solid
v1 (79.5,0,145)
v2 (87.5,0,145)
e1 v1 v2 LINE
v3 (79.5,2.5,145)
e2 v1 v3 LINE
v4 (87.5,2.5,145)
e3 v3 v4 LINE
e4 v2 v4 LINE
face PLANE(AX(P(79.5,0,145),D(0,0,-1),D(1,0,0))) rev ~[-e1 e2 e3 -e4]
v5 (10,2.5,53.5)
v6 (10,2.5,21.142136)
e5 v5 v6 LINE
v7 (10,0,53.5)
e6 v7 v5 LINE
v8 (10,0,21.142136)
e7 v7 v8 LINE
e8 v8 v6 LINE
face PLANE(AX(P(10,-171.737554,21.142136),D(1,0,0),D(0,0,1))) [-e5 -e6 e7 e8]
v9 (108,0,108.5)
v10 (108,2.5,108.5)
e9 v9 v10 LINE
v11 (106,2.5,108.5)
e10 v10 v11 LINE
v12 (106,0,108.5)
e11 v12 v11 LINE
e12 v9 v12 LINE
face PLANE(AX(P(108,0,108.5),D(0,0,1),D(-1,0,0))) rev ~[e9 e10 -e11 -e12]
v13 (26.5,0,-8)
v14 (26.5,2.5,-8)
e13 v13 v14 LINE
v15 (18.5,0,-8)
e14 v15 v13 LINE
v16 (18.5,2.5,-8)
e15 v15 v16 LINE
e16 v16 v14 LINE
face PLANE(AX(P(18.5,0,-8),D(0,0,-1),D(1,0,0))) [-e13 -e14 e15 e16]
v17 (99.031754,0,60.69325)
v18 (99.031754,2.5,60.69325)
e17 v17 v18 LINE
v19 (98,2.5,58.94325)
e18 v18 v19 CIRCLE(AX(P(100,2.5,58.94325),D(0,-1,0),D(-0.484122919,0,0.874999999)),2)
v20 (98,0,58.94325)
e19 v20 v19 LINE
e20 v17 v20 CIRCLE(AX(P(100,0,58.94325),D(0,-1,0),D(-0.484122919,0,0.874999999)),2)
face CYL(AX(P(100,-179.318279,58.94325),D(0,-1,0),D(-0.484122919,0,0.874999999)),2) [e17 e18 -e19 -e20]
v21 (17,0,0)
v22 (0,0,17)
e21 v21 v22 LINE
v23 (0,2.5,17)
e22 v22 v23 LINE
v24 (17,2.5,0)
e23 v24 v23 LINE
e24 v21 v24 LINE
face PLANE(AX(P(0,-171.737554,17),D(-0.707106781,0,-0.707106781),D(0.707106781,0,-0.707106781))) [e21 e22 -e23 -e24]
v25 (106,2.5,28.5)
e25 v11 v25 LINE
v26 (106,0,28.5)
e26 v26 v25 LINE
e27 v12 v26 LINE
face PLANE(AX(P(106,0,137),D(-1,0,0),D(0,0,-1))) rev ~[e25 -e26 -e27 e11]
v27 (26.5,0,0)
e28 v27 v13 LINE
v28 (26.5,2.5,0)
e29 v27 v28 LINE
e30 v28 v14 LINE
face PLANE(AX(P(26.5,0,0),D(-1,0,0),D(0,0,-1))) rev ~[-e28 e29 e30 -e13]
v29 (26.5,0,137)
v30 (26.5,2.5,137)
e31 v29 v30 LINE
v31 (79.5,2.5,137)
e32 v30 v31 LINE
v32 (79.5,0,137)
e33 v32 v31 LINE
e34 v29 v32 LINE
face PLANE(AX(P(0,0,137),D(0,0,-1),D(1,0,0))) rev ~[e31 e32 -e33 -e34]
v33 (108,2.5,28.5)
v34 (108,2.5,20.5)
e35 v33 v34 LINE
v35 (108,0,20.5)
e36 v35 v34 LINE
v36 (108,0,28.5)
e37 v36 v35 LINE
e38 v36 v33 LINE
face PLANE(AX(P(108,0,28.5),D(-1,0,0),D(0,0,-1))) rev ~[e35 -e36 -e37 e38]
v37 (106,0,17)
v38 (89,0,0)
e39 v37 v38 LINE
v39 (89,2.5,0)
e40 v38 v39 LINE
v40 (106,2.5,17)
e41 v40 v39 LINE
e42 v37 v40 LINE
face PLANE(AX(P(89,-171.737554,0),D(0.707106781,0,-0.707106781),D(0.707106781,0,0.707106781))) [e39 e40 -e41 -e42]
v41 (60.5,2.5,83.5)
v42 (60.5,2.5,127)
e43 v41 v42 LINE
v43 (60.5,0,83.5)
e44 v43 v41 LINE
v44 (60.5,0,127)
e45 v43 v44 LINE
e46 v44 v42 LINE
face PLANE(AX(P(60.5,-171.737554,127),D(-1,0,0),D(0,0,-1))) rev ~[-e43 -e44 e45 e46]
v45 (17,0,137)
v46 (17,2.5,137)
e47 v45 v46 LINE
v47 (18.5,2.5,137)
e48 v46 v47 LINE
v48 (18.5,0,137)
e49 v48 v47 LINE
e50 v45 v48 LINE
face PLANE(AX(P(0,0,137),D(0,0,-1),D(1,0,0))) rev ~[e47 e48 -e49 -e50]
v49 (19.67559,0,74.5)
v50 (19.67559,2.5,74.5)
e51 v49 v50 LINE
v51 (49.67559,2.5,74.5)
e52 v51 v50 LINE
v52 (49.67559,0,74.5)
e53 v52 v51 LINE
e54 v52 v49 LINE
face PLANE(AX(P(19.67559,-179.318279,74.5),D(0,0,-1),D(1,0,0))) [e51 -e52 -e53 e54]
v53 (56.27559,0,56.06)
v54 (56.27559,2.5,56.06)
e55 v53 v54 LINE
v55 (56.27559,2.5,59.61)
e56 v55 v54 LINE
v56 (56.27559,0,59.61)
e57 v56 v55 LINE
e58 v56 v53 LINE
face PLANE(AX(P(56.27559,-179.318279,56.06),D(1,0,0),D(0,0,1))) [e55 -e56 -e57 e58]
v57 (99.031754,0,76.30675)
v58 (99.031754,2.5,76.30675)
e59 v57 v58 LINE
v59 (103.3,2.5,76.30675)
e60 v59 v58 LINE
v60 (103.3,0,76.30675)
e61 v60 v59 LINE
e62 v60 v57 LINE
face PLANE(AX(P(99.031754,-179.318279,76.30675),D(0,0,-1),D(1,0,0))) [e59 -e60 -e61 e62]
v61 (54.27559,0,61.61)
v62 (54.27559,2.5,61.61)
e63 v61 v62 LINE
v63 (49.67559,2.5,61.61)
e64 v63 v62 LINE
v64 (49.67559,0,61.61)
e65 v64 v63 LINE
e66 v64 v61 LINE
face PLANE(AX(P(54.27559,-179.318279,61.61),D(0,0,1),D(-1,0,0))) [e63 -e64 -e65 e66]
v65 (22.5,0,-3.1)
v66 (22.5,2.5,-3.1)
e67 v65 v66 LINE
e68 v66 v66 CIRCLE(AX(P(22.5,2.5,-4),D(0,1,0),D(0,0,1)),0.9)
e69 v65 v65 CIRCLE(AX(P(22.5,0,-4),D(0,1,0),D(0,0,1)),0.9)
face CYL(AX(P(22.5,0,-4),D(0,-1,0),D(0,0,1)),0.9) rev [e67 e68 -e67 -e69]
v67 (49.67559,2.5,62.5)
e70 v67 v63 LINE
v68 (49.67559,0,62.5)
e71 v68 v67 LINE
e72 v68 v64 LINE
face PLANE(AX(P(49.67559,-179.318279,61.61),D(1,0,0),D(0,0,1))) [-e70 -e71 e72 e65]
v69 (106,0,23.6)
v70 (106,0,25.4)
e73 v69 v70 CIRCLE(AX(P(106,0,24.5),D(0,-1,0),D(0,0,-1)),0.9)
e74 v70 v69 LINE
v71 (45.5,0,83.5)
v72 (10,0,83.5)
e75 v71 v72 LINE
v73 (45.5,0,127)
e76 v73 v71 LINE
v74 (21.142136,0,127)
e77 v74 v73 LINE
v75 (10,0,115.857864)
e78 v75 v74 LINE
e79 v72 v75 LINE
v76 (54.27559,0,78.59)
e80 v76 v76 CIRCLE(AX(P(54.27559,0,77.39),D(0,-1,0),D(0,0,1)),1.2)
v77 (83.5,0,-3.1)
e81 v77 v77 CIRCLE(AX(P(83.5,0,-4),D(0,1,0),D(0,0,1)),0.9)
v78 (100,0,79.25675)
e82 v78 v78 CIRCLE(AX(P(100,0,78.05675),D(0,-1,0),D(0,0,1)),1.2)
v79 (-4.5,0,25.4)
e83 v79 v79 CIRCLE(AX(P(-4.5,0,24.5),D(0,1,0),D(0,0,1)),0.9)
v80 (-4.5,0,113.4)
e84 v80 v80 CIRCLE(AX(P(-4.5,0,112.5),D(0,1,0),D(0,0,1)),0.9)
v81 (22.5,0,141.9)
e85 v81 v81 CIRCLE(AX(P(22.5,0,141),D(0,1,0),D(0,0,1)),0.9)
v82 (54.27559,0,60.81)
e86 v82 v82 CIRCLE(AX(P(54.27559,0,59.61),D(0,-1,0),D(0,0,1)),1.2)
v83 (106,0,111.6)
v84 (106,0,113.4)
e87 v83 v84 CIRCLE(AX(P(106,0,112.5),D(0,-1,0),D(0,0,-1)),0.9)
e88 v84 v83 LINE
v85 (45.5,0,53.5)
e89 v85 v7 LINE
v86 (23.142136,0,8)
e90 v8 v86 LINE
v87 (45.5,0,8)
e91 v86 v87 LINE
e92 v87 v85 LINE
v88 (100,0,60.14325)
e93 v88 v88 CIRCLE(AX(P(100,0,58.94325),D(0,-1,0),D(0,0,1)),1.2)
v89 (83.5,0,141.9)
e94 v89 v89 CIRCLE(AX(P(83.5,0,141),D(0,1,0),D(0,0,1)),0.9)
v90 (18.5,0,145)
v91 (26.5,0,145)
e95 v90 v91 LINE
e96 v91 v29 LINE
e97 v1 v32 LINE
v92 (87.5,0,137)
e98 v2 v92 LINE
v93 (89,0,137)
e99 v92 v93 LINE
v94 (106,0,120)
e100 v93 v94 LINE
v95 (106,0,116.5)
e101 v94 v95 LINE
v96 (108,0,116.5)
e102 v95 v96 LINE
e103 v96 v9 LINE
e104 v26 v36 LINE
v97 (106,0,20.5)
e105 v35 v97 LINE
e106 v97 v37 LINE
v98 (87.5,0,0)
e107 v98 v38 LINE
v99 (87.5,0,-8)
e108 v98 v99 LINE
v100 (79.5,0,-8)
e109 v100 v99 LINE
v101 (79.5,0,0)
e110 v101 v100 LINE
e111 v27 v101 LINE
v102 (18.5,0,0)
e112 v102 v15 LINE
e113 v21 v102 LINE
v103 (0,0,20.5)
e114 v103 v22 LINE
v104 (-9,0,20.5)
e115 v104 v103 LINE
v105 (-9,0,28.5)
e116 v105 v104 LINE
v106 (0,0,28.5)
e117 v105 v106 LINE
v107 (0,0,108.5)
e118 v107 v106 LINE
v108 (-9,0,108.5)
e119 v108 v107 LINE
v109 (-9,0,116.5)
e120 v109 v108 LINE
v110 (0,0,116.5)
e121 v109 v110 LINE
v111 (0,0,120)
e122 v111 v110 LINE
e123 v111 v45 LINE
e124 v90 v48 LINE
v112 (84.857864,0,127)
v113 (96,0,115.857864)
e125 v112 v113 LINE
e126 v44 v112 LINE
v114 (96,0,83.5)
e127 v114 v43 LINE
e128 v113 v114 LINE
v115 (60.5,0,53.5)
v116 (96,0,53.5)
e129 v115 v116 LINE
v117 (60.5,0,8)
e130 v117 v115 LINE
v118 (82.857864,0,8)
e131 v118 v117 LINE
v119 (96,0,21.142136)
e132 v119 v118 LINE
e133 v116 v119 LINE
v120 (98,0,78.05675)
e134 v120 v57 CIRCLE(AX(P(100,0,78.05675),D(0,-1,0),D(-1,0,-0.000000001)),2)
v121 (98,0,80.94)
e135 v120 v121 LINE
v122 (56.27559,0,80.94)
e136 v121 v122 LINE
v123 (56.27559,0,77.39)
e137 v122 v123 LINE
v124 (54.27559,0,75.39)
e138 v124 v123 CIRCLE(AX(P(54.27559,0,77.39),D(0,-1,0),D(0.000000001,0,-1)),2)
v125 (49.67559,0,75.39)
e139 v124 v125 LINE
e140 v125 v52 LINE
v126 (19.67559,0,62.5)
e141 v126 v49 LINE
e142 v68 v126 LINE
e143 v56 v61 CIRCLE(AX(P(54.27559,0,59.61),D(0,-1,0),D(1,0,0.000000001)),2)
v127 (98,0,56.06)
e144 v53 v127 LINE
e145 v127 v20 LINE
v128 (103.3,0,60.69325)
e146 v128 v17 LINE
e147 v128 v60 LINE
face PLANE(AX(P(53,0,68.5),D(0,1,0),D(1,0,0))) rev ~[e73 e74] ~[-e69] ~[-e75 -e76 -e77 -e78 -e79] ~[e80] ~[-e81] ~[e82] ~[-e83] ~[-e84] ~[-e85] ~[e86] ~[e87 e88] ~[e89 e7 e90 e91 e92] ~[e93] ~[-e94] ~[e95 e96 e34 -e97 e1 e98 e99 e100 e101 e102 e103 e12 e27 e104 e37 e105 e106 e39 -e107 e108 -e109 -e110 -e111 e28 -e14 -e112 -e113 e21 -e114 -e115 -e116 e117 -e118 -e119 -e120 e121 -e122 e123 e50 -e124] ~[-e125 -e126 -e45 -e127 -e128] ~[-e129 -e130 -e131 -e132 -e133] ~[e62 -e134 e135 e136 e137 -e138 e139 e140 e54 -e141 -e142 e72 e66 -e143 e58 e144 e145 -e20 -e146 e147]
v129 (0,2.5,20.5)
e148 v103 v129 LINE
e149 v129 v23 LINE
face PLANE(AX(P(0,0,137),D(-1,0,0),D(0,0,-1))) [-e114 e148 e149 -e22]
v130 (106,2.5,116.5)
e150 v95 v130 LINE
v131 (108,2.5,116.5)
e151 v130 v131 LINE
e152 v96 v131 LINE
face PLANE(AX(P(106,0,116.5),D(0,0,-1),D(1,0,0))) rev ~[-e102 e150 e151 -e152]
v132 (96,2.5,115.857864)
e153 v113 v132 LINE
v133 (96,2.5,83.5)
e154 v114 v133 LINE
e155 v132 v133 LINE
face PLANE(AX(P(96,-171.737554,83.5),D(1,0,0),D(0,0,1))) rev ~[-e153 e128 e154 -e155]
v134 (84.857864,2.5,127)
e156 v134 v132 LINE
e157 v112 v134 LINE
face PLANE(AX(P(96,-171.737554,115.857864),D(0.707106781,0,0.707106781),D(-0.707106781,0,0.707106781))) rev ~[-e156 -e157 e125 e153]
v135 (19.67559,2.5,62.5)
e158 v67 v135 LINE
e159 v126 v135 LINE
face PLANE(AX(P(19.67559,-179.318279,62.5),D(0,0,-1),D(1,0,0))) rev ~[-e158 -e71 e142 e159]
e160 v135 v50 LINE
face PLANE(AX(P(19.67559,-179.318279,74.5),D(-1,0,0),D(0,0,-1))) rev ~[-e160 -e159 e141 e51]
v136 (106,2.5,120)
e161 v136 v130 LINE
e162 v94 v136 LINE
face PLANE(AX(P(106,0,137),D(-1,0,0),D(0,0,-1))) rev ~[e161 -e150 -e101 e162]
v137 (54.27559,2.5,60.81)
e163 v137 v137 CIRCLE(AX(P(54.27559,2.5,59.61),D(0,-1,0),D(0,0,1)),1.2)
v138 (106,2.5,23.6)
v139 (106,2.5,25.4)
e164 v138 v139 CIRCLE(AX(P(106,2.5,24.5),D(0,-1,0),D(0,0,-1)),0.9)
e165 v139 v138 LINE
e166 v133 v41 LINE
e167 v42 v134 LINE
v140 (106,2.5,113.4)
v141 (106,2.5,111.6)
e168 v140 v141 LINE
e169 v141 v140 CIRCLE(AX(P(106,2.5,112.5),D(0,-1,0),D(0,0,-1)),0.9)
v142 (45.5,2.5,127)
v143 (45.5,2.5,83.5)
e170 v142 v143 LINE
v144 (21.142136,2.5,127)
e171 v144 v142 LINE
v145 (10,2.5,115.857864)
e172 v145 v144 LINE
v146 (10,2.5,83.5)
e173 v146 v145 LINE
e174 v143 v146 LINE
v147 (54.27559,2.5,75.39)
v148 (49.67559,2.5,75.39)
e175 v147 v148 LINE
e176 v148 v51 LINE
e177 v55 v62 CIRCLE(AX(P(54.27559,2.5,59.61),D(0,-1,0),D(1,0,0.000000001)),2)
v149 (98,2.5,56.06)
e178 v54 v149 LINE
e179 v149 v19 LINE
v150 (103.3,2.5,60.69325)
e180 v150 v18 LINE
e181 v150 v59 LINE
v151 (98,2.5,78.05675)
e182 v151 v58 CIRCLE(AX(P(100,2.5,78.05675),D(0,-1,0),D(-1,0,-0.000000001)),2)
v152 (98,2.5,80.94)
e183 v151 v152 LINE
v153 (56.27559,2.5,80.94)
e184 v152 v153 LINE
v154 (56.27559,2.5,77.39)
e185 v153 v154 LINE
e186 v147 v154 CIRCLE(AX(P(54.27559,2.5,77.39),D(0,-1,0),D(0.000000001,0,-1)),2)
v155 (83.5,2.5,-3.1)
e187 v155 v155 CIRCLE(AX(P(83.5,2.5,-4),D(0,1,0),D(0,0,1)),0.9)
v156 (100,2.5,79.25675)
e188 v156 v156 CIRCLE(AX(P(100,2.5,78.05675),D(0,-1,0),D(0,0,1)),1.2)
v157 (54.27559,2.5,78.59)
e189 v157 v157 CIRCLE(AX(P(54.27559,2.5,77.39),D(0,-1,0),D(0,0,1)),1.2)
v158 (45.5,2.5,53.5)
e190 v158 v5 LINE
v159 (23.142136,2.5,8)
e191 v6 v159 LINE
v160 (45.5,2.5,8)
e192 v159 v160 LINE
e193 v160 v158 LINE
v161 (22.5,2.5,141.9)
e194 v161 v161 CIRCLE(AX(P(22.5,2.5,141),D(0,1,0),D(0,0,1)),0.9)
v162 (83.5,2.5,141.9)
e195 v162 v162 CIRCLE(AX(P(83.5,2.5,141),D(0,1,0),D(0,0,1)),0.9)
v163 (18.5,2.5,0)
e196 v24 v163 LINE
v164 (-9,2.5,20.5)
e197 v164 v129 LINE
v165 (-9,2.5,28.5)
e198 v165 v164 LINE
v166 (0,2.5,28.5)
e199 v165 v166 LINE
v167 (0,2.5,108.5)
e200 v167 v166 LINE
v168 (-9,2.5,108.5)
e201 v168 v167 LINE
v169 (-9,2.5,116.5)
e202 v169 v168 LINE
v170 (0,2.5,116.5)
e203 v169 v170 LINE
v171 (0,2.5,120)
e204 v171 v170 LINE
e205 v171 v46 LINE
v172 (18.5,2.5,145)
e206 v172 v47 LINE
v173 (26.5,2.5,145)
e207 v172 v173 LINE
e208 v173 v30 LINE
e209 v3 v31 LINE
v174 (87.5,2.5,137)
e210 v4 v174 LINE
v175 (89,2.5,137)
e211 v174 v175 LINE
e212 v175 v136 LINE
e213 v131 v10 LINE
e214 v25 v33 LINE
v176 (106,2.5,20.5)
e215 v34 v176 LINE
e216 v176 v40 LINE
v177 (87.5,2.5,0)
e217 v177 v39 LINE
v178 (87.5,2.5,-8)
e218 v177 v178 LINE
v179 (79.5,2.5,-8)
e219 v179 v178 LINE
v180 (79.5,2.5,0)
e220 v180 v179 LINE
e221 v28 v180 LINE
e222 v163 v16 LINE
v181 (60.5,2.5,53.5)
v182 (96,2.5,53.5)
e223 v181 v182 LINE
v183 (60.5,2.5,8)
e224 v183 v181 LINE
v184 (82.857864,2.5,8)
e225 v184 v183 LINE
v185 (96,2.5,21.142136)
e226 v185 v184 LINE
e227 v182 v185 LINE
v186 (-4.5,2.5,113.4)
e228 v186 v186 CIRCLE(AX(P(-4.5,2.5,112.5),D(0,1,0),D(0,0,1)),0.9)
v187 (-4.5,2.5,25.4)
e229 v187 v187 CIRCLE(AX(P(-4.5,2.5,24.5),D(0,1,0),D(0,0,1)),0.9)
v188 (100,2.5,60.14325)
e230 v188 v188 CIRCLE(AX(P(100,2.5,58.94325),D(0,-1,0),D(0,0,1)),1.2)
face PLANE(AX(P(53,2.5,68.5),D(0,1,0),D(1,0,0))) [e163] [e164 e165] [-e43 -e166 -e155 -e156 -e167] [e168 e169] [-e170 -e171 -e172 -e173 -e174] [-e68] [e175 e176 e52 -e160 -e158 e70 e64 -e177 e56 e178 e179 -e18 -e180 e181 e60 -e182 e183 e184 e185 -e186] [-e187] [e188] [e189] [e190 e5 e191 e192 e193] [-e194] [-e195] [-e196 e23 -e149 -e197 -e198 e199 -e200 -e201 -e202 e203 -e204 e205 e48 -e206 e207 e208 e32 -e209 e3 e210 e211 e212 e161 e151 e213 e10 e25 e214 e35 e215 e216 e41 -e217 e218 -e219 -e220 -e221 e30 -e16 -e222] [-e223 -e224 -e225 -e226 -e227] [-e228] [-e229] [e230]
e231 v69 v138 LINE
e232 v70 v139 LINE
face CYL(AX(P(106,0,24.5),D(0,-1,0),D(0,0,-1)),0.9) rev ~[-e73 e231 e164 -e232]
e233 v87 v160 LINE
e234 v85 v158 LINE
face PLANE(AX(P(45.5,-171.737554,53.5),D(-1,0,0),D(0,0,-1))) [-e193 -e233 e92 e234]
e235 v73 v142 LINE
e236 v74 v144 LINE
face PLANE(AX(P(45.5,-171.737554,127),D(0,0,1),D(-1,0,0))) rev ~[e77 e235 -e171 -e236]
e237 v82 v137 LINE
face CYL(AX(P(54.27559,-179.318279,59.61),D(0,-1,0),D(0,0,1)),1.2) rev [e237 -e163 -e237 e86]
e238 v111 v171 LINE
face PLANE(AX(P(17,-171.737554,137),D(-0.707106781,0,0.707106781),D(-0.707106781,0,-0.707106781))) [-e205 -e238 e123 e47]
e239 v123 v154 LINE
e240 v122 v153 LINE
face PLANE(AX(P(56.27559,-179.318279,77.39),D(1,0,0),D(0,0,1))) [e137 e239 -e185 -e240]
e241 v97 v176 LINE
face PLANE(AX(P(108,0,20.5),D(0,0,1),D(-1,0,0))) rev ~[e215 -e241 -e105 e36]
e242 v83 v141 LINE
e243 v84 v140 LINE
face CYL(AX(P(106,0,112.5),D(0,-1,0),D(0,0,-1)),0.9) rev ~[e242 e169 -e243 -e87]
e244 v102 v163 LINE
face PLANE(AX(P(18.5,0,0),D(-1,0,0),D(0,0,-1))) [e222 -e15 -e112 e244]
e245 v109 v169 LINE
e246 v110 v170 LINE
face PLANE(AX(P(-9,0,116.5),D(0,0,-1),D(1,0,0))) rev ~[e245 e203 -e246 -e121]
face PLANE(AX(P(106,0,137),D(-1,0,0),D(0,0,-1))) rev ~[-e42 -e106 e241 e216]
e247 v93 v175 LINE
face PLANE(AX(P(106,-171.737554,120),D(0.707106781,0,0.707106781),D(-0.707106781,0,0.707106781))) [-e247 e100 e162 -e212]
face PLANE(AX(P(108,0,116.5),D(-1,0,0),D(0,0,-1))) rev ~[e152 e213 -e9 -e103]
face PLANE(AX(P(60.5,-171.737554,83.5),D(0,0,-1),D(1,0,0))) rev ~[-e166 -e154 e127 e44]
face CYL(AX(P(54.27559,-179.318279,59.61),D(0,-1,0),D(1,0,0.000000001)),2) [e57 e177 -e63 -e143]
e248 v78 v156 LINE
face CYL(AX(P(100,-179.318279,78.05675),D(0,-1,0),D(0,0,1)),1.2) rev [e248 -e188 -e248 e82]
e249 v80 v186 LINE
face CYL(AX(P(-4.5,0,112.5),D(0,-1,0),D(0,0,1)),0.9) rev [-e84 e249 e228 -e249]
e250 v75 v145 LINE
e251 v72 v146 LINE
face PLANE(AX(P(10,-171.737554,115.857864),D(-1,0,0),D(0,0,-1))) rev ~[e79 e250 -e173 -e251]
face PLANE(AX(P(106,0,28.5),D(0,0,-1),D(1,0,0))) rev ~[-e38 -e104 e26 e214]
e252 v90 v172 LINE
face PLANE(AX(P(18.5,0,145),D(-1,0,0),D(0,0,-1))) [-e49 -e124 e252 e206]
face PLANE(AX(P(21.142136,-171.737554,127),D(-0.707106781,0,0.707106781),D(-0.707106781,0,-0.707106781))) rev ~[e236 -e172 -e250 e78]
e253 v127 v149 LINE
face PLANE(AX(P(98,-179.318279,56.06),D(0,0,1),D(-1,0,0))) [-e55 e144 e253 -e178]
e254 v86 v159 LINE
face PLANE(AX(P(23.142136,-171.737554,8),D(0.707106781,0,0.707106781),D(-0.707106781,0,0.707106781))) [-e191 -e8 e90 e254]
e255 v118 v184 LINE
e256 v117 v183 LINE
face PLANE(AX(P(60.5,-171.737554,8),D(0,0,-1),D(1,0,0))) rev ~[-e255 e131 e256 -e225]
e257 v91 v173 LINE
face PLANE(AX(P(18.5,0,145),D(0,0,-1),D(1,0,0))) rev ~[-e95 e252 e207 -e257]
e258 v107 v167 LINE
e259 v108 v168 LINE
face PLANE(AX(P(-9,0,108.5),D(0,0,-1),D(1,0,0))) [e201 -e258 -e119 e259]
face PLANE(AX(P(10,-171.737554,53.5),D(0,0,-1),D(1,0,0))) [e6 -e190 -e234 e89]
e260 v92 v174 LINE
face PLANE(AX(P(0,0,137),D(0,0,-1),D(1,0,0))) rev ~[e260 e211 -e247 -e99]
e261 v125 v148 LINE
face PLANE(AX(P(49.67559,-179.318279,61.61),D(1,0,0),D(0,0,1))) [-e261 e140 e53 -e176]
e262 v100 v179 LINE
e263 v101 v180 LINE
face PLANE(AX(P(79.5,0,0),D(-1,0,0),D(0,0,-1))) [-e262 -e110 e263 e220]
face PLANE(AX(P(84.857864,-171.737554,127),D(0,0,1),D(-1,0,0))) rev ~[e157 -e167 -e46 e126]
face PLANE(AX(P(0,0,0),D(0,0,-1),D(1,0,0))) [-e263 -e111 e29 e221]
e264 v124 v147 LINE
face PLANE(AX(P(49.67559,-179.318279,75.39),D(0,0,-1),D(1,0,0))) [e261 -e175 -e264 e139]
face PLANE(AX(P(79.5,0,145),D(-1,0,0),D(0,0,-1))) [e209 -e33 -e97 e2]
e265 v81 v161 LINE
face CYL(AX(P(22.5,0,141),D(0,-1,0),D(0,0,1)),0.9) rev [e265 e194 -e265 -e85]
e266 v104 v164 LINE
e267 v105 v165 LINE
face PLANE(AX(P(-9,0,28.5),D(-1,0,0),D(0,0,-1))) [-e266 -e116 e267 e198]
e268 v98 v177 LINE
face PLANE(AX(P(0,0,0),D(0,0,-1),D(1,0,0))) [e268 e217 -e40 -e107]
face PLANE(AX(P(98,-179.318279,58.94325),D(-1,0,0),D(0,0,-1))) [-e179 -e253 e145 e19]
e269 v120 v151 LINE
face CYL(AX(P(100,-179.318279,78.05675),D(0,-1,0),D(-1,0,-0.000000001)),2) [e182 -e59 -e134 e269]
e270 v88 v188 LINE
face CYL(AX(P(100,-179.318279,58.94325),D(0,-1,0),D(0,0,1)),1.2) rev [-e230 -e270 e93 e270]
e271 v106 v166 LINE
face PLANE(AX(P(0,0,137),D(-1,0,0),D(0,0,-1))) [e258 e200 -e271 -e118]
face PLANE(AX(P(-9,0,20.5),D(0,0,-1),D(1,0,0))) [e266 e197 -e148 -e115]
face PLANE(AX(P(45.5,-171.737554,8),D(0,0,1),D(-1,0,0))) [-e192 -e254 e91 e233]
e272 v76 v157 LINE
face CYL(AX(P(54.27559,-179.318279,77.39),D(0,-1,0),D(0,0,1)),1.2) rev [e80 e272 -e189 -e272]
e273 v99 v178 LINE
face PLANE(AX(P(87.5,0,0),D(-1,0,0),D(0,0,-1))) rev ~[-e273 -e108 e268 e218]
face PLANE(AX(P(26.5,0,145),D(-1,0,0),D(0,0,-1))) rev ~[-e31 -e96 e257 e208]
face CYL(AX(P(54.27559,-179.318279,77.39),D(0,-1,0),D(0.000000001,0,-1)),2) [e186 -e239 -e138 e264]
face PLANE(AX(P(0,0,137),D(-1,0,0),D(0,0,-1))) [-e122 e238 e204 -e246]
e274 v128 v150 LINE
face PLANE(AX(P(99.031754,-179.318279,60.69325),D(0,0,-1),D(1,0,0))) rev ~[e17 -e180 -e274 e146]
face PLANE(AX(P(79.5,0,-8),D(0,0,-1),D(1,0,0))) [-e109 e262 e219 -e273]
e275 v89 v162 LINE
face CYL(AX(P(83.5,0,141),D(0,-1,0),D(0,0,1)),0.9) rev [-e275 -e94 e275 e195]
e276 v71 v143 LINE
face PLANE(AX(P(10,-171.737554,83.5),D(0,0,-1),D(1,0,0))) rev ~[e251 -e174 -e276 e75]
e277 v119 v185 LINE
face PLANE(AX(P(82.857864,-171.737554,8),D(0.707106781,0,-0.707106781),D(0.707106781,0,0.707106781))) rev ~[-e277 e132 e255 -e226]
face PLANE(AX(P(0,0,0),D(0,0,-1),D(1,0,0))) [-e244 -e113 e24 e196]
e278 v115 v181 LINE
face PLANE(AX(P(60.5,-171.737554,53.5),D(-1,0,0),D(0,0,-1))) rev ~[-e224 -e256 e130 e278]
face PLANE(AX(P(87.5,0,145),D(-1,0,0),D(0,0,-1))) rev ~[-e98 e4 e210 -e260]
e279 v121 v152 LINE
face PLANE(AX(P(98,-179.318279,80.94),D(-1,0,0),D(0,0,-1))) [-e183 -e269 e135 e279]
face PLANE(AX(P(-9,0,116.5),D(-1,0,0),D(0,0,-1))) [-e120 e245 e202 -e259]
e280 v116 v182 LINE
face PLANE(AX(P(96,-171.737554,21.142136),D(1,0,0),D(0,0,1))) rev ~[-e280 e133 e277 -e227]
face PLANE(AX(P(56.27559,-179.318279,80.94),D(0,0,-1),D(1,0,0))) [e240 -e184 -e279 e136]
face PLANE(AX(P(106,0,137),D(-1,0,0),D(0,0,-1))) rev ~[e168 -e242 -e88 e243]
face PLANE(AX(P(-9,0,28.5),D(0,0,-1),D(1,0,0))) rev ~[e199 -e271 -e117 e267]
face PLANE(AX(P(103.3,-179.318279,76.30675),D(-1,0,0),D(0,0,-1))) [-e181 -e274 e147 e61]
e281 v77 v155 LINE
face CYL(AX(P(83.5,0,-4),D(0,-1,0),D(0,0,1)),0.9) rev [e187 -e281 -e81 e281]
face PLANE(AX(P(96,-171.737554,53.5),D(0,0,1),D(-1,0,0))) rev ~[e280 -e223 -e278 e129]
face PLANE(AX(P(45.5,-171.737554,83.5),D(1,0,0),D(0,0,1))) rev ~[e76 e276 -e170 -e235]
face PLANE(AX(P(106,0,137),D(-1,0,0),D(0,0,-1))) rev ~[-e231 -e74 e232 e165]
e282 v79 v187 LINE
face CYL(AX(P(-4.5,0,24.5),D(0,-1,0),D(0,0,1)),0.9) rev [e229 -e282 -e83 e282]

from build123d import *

# Parameters (mm, degrees)
SKETCH1_W               = 106
SKETCH1_H               = 137
BOSS_EXTRUDE1_DEPTH     = 2.5
CUT_EXTRUDE1_DEPTH      = 174.237553665
CUT_EXTRUDE1_DEPTH_BACK = 174.237553665
SKETCH5_W               = 8
SKETCH5_H               = 8
SKETCH5_R               = 0.9
SKETCH5_W_2             = 9
BOSS_EXTRUDE4_DEPTH     = 2.5
CUT_EXTRUDE4_DEPTH      = 181.818278943
CUT_EXTRUDE4_DEPTH_BACK = 181.818278943
SKETCH3_R               = 1.2
SKETCH3_W               = 6.263237977
SKETCH3_H               = 0.25
SKETCH3_W_2             = 4.268245837
CUT_EXTRUDE5_DEPTH      = 181.818278943
CUT_EXTRUDE5_DEPTH_BACK = 181.818278943
SKETCH7_W               = 30
SKETCH7_H               = 12


with BuildPart() as part:
    # Sketch1 → Boss-Extrude1 (new body)
    with BuildSketch(Plane(origin=(0, 0, 0), x_dir=(1, 0, 0), z_dir=(0, 1, 0))):
        with Locations((53, -68.5)):
            Rectangle(SKETCH1_W, SKETCH1_H)
    extrude(amount=BOSS_EXTRUDE1_DEPTH)

    # Sketch2 → Cut-Extrude1 (cut, two sides: drawn at the far end of the back side and taken through both)
    with BuildSketch(Plane(origin=(0, 2.5, 0), x_dir=(1, 0, 0), z_dir=(0, 1, 0)).offset(-CUT_EXTRUDE1_DEPTH_BACK)):
        Polygon((60.5, -83.5), (96, -83.5), (96, -115.857864376), (84.857864376, -127), (60.5, -127), align=None)
        Polygon((106, -120), (89, -137), (106, -137), align=None)
        Polygon((17, -137), (0, -120), (0, -137), align=None)
        Polygon((45.5, -127), (21.142135624, -127), (10, -115.857864376), (10, -83.5), (45.5, -83.5), align=None)
        Polygon((10, -53.5), (45.5, -53.5), (45.5, -8), (23.142135624, -8), (10, -21.142135624), align=None)
        Polygon((60.5, -53.5), (60.5, -8), (82.857864376, -8), (96, -21.142135624), (96, -53.5), align=None)
        Polygon((106, 0), (89, 0), (106, -17), align=None)
        Polygon((0, 0), (0, -17), (17, 0), align=None)
    extrude(amount=CUT_EXTRUDE1_DEPTH + CUT_EXTRUDE1_DEPTH_BACK, mode=Mode.SUBTRACT)

    # Sketch5 → Boss-Extrude4 (add)
    # profile 1 of 8: a face of its own
    with BuildSketch(Plane(origin=(0, 0, 0), x_dir=(1, 0, 0), z_dir=(0, 1, 0))):
        with Locations((22.5, -141)):
            Rectangle(SKETCH5_W, SKETCH5_H)
        with Locations(Location((22.5, -141, 0), (0, 0, 270))):
            Circle(SKETCH5_R, mode=Mode.SUBTRACT)
    # profile 2 of 8: a face of its own
    with BuildSketch(Plane(origin=(0, 0, 0), x_dir=(1, 0, 0), z_dir=(0, 1, 0))):
        with Locations((83.5, -141)):
            Rectangle(SKETCH5_W, SKETCH5_H)
        with Locations(Location((83.5, -141, 0), (0, 0, 270))):
            Circle(SKETCH5_R, mode=Mode.SUBTRACT)
    # profile 3 of 8: a face of its own
    with BuildSketch(Plane(origin=(0, 0, 0), x_dir=(1, 0, 0), z_dir=(0, 1, 0))):
        with Locations((83.5, 4)):
            Rectangle(SKETCH5_W, SKETCH5_H)
        with Locations(Location((83.5, 4, 0), (0, 0, 270))):
            Circle(SKETCH5_R, mode=Mode.SUBTRACT)
    # profile 4 of 8: a face of its own
    with BuildSketch(Plane(origin=(0, 0, 0), x_dir=(1, 0, 0), z_dir=(0, 1, 0))):
        with Locations((22.5, 4)):
            Rectangle(SKETCH5_W, SKETCH5_H)
        with Locations(Location((22.5, 4, 0), (0, 0, 270))):
            Circle(SKETCH5_R, mode=Mode.SUBTRACT)
    # profile 5 of 8: a face of its own
    with BuildSketch(Plane(origin=(0, 0, 0), x_dir=(1, 0, 0), z_dir=(0, 1, 0))):
        with Locations((-4.5, -112.5)):
            Rectangle(SKETCH5_W_2, SKETCH5_H)
        with Locations(Location((-4.5, -112.5, 0), (0, 0, 270))):
            Circle(SKETCH5_R, mode=Mode.SUBTRACT)
    # profile 6 of 8: a face of its own
    with BuildSketch(Plane(origin=(0, 0, 0), x_dir=(1, 0, 0), z_dir=(0, 1, 0))):
        with Locations((-4.5, -24.5)):
            Rectangle(SKETCH5_W_2, SKETCH5_H)
        with Locations(Location((-4.5, -24.5, 0), (0, 0, 270))):
            Circle(SKETCH5_R, mode=Mode.SUBTRACT)
    # profile 7 of 8: a face of its own
    with BuildSketch(Plane(origin=(0, 0, 0), x_dir=(1, 0, 0), z_dir=(0, 1, 0))):
        with BuildLine():
            Line((106, -113.4), (106, -116.5))
            Line((106, -116.5), (108, -116.5))
            Line((108, -116.5), (108, -108.5))
            Line((108, -108.5), (106, -108.5))
            Line((106, -108.5), (106, -111.6))
            ThreePointArc((106, -111.6), (106.9, -112.5), (106, -113.4))
        make_face()
    # profile 8 of 8: a face of its own
    with BuildSketch(Plane(origin=(0, 0, 0), x_dir=(1, 0, 0), z_dir=(0, 1, 0))):
        with BuildLine():
            Line((106, -25.4), (106, -28.5))
            Line((106, -28.5), (108, -28.5))
            Line((108, -28.5), (108, -20.5))
            Line((108, -20.5), (106, -20.5))
            Line((106, -20.5), (106, -23.6))
            ThreePointArc((106, -23.6), (106.9, -24.5), (106, -25.4))
        make_face()
    extrude(amount=BOSS_EXTRUDE4_DEPTH)

    # Sketch3 → Cut-Extrude4 (cut, two sides: drawn at the far end of the back side and taken through both)
    with BuildSketch(Plane(origin=(0, 2.5, 0), x_dir=(1, 0, 0), z_dir=(0, 1, 0)).offset(-CUT_EXTRUDE4_DEPTH_BACK)):
        with BuildLine():
            Line((56.27559049, -77.39), (56.27559049, -80.94))
            Line((56.27559049, -80.94), (98, -80.94))
            Line((98, -80.94), (98, -78.05675))
            ThreePointArc((98, -78.05675), (98.277140216, -77.040996997), (99.031754163, -76.30675))
            Line((99.031754163, -76.30675), (99.031754163, -76.05675))
            Line((99.031754163, -76.05675), (100, -76.05675))
            Line((100, -76.05675), (103.3, -76.05675))
            Line((103.3, -76.05675), (103.3, -60.94325))
            Line((103.3, -60.94325), (100, -60.94325))
            Line((100, -60.94325), (97.036762023, -60.94325))
            Line((97.036762023, -60.94325), (97.036762023, -60.69325))
            Line((97.036762023, -60.69325), (99.031754163, -60.69325))
            ThreePointArc((99.031754163, -60.69325), (98.277140216, -59.959003003), (98, -58.94325))
            Line((98, -58.94325), (98, -56.06))
            Line((98, -56.06), (56.27559049, -56.06))
            Line((56.27559049, -56.06), (56.27559049, -59.61))
            ThreePointArc((56.27559049, -59.61), (55.689804052, -61.024213562), (54.27559049, -61.61))
            Line((54.27559049, -61.61), (49.67559049, -61.61))
            Line((49.67559049, -61.61), (49.67559049, -75.39))
            Line((49.67559049, -75.39), (54.27559049, -75.39))
            ThreePointArc((54.27559049, -75.39), (55.689804052, -75.975786438), (56.27559049, -77.39))
        make_face()
        with Locations(Location((54.27559049, -59.61, 0), (0, 0, 270))):
            Circle(SKETCH3_R)
        with Locations(Location((54.27559049, -77.39, 0), (0, 0, 270))):
            Circle(SKETCH3_R)
        with Locations(Location((100, -78.05675, 0), (0, 0, 270))):
            Circle(SKETCH3_R)
        with Locations(Location((100, -58.94325, 0), (0, 0, 270))):
            Circle(SKETCH3_R)
        with Locations((100.168381012, -60.81825)):
            Rectangle(SKETCH3_W, SKETCH3_H)
        with Locations((101.165877082, -76.18175)):
            Rectangle(SKETCH3_W_2, SKETCH3_H)
    extrude(amount=CUT_EXTRUDE4_DEPTH + CUT_EXTRUDE4_DEPTH_BACK, mode=Mode.SUBTRACT)

    # Sketch7 → Cut-Extrude5 (cut, two sides: drawn at the far end of the back side and taken through both)
    with BuildSketch(Plane(origin=(0, 2.5, 0), x_dir=(1, 0, 0), z_dir=(0, 1, 0)).offset(-CUT_EXTRUDE5_DEPTH_BACK)):
        with Locations((34.67559049, -68.5)):
            Rectangle(SKETCH7_W, SKETCH7_H)
    extrude(amount=CUT_EXTRUDE5_DEPTH + CUT_EXTRUDE5_DEPTH_BACK, mode=Mode.SUBTRACT)


solid = part.part
